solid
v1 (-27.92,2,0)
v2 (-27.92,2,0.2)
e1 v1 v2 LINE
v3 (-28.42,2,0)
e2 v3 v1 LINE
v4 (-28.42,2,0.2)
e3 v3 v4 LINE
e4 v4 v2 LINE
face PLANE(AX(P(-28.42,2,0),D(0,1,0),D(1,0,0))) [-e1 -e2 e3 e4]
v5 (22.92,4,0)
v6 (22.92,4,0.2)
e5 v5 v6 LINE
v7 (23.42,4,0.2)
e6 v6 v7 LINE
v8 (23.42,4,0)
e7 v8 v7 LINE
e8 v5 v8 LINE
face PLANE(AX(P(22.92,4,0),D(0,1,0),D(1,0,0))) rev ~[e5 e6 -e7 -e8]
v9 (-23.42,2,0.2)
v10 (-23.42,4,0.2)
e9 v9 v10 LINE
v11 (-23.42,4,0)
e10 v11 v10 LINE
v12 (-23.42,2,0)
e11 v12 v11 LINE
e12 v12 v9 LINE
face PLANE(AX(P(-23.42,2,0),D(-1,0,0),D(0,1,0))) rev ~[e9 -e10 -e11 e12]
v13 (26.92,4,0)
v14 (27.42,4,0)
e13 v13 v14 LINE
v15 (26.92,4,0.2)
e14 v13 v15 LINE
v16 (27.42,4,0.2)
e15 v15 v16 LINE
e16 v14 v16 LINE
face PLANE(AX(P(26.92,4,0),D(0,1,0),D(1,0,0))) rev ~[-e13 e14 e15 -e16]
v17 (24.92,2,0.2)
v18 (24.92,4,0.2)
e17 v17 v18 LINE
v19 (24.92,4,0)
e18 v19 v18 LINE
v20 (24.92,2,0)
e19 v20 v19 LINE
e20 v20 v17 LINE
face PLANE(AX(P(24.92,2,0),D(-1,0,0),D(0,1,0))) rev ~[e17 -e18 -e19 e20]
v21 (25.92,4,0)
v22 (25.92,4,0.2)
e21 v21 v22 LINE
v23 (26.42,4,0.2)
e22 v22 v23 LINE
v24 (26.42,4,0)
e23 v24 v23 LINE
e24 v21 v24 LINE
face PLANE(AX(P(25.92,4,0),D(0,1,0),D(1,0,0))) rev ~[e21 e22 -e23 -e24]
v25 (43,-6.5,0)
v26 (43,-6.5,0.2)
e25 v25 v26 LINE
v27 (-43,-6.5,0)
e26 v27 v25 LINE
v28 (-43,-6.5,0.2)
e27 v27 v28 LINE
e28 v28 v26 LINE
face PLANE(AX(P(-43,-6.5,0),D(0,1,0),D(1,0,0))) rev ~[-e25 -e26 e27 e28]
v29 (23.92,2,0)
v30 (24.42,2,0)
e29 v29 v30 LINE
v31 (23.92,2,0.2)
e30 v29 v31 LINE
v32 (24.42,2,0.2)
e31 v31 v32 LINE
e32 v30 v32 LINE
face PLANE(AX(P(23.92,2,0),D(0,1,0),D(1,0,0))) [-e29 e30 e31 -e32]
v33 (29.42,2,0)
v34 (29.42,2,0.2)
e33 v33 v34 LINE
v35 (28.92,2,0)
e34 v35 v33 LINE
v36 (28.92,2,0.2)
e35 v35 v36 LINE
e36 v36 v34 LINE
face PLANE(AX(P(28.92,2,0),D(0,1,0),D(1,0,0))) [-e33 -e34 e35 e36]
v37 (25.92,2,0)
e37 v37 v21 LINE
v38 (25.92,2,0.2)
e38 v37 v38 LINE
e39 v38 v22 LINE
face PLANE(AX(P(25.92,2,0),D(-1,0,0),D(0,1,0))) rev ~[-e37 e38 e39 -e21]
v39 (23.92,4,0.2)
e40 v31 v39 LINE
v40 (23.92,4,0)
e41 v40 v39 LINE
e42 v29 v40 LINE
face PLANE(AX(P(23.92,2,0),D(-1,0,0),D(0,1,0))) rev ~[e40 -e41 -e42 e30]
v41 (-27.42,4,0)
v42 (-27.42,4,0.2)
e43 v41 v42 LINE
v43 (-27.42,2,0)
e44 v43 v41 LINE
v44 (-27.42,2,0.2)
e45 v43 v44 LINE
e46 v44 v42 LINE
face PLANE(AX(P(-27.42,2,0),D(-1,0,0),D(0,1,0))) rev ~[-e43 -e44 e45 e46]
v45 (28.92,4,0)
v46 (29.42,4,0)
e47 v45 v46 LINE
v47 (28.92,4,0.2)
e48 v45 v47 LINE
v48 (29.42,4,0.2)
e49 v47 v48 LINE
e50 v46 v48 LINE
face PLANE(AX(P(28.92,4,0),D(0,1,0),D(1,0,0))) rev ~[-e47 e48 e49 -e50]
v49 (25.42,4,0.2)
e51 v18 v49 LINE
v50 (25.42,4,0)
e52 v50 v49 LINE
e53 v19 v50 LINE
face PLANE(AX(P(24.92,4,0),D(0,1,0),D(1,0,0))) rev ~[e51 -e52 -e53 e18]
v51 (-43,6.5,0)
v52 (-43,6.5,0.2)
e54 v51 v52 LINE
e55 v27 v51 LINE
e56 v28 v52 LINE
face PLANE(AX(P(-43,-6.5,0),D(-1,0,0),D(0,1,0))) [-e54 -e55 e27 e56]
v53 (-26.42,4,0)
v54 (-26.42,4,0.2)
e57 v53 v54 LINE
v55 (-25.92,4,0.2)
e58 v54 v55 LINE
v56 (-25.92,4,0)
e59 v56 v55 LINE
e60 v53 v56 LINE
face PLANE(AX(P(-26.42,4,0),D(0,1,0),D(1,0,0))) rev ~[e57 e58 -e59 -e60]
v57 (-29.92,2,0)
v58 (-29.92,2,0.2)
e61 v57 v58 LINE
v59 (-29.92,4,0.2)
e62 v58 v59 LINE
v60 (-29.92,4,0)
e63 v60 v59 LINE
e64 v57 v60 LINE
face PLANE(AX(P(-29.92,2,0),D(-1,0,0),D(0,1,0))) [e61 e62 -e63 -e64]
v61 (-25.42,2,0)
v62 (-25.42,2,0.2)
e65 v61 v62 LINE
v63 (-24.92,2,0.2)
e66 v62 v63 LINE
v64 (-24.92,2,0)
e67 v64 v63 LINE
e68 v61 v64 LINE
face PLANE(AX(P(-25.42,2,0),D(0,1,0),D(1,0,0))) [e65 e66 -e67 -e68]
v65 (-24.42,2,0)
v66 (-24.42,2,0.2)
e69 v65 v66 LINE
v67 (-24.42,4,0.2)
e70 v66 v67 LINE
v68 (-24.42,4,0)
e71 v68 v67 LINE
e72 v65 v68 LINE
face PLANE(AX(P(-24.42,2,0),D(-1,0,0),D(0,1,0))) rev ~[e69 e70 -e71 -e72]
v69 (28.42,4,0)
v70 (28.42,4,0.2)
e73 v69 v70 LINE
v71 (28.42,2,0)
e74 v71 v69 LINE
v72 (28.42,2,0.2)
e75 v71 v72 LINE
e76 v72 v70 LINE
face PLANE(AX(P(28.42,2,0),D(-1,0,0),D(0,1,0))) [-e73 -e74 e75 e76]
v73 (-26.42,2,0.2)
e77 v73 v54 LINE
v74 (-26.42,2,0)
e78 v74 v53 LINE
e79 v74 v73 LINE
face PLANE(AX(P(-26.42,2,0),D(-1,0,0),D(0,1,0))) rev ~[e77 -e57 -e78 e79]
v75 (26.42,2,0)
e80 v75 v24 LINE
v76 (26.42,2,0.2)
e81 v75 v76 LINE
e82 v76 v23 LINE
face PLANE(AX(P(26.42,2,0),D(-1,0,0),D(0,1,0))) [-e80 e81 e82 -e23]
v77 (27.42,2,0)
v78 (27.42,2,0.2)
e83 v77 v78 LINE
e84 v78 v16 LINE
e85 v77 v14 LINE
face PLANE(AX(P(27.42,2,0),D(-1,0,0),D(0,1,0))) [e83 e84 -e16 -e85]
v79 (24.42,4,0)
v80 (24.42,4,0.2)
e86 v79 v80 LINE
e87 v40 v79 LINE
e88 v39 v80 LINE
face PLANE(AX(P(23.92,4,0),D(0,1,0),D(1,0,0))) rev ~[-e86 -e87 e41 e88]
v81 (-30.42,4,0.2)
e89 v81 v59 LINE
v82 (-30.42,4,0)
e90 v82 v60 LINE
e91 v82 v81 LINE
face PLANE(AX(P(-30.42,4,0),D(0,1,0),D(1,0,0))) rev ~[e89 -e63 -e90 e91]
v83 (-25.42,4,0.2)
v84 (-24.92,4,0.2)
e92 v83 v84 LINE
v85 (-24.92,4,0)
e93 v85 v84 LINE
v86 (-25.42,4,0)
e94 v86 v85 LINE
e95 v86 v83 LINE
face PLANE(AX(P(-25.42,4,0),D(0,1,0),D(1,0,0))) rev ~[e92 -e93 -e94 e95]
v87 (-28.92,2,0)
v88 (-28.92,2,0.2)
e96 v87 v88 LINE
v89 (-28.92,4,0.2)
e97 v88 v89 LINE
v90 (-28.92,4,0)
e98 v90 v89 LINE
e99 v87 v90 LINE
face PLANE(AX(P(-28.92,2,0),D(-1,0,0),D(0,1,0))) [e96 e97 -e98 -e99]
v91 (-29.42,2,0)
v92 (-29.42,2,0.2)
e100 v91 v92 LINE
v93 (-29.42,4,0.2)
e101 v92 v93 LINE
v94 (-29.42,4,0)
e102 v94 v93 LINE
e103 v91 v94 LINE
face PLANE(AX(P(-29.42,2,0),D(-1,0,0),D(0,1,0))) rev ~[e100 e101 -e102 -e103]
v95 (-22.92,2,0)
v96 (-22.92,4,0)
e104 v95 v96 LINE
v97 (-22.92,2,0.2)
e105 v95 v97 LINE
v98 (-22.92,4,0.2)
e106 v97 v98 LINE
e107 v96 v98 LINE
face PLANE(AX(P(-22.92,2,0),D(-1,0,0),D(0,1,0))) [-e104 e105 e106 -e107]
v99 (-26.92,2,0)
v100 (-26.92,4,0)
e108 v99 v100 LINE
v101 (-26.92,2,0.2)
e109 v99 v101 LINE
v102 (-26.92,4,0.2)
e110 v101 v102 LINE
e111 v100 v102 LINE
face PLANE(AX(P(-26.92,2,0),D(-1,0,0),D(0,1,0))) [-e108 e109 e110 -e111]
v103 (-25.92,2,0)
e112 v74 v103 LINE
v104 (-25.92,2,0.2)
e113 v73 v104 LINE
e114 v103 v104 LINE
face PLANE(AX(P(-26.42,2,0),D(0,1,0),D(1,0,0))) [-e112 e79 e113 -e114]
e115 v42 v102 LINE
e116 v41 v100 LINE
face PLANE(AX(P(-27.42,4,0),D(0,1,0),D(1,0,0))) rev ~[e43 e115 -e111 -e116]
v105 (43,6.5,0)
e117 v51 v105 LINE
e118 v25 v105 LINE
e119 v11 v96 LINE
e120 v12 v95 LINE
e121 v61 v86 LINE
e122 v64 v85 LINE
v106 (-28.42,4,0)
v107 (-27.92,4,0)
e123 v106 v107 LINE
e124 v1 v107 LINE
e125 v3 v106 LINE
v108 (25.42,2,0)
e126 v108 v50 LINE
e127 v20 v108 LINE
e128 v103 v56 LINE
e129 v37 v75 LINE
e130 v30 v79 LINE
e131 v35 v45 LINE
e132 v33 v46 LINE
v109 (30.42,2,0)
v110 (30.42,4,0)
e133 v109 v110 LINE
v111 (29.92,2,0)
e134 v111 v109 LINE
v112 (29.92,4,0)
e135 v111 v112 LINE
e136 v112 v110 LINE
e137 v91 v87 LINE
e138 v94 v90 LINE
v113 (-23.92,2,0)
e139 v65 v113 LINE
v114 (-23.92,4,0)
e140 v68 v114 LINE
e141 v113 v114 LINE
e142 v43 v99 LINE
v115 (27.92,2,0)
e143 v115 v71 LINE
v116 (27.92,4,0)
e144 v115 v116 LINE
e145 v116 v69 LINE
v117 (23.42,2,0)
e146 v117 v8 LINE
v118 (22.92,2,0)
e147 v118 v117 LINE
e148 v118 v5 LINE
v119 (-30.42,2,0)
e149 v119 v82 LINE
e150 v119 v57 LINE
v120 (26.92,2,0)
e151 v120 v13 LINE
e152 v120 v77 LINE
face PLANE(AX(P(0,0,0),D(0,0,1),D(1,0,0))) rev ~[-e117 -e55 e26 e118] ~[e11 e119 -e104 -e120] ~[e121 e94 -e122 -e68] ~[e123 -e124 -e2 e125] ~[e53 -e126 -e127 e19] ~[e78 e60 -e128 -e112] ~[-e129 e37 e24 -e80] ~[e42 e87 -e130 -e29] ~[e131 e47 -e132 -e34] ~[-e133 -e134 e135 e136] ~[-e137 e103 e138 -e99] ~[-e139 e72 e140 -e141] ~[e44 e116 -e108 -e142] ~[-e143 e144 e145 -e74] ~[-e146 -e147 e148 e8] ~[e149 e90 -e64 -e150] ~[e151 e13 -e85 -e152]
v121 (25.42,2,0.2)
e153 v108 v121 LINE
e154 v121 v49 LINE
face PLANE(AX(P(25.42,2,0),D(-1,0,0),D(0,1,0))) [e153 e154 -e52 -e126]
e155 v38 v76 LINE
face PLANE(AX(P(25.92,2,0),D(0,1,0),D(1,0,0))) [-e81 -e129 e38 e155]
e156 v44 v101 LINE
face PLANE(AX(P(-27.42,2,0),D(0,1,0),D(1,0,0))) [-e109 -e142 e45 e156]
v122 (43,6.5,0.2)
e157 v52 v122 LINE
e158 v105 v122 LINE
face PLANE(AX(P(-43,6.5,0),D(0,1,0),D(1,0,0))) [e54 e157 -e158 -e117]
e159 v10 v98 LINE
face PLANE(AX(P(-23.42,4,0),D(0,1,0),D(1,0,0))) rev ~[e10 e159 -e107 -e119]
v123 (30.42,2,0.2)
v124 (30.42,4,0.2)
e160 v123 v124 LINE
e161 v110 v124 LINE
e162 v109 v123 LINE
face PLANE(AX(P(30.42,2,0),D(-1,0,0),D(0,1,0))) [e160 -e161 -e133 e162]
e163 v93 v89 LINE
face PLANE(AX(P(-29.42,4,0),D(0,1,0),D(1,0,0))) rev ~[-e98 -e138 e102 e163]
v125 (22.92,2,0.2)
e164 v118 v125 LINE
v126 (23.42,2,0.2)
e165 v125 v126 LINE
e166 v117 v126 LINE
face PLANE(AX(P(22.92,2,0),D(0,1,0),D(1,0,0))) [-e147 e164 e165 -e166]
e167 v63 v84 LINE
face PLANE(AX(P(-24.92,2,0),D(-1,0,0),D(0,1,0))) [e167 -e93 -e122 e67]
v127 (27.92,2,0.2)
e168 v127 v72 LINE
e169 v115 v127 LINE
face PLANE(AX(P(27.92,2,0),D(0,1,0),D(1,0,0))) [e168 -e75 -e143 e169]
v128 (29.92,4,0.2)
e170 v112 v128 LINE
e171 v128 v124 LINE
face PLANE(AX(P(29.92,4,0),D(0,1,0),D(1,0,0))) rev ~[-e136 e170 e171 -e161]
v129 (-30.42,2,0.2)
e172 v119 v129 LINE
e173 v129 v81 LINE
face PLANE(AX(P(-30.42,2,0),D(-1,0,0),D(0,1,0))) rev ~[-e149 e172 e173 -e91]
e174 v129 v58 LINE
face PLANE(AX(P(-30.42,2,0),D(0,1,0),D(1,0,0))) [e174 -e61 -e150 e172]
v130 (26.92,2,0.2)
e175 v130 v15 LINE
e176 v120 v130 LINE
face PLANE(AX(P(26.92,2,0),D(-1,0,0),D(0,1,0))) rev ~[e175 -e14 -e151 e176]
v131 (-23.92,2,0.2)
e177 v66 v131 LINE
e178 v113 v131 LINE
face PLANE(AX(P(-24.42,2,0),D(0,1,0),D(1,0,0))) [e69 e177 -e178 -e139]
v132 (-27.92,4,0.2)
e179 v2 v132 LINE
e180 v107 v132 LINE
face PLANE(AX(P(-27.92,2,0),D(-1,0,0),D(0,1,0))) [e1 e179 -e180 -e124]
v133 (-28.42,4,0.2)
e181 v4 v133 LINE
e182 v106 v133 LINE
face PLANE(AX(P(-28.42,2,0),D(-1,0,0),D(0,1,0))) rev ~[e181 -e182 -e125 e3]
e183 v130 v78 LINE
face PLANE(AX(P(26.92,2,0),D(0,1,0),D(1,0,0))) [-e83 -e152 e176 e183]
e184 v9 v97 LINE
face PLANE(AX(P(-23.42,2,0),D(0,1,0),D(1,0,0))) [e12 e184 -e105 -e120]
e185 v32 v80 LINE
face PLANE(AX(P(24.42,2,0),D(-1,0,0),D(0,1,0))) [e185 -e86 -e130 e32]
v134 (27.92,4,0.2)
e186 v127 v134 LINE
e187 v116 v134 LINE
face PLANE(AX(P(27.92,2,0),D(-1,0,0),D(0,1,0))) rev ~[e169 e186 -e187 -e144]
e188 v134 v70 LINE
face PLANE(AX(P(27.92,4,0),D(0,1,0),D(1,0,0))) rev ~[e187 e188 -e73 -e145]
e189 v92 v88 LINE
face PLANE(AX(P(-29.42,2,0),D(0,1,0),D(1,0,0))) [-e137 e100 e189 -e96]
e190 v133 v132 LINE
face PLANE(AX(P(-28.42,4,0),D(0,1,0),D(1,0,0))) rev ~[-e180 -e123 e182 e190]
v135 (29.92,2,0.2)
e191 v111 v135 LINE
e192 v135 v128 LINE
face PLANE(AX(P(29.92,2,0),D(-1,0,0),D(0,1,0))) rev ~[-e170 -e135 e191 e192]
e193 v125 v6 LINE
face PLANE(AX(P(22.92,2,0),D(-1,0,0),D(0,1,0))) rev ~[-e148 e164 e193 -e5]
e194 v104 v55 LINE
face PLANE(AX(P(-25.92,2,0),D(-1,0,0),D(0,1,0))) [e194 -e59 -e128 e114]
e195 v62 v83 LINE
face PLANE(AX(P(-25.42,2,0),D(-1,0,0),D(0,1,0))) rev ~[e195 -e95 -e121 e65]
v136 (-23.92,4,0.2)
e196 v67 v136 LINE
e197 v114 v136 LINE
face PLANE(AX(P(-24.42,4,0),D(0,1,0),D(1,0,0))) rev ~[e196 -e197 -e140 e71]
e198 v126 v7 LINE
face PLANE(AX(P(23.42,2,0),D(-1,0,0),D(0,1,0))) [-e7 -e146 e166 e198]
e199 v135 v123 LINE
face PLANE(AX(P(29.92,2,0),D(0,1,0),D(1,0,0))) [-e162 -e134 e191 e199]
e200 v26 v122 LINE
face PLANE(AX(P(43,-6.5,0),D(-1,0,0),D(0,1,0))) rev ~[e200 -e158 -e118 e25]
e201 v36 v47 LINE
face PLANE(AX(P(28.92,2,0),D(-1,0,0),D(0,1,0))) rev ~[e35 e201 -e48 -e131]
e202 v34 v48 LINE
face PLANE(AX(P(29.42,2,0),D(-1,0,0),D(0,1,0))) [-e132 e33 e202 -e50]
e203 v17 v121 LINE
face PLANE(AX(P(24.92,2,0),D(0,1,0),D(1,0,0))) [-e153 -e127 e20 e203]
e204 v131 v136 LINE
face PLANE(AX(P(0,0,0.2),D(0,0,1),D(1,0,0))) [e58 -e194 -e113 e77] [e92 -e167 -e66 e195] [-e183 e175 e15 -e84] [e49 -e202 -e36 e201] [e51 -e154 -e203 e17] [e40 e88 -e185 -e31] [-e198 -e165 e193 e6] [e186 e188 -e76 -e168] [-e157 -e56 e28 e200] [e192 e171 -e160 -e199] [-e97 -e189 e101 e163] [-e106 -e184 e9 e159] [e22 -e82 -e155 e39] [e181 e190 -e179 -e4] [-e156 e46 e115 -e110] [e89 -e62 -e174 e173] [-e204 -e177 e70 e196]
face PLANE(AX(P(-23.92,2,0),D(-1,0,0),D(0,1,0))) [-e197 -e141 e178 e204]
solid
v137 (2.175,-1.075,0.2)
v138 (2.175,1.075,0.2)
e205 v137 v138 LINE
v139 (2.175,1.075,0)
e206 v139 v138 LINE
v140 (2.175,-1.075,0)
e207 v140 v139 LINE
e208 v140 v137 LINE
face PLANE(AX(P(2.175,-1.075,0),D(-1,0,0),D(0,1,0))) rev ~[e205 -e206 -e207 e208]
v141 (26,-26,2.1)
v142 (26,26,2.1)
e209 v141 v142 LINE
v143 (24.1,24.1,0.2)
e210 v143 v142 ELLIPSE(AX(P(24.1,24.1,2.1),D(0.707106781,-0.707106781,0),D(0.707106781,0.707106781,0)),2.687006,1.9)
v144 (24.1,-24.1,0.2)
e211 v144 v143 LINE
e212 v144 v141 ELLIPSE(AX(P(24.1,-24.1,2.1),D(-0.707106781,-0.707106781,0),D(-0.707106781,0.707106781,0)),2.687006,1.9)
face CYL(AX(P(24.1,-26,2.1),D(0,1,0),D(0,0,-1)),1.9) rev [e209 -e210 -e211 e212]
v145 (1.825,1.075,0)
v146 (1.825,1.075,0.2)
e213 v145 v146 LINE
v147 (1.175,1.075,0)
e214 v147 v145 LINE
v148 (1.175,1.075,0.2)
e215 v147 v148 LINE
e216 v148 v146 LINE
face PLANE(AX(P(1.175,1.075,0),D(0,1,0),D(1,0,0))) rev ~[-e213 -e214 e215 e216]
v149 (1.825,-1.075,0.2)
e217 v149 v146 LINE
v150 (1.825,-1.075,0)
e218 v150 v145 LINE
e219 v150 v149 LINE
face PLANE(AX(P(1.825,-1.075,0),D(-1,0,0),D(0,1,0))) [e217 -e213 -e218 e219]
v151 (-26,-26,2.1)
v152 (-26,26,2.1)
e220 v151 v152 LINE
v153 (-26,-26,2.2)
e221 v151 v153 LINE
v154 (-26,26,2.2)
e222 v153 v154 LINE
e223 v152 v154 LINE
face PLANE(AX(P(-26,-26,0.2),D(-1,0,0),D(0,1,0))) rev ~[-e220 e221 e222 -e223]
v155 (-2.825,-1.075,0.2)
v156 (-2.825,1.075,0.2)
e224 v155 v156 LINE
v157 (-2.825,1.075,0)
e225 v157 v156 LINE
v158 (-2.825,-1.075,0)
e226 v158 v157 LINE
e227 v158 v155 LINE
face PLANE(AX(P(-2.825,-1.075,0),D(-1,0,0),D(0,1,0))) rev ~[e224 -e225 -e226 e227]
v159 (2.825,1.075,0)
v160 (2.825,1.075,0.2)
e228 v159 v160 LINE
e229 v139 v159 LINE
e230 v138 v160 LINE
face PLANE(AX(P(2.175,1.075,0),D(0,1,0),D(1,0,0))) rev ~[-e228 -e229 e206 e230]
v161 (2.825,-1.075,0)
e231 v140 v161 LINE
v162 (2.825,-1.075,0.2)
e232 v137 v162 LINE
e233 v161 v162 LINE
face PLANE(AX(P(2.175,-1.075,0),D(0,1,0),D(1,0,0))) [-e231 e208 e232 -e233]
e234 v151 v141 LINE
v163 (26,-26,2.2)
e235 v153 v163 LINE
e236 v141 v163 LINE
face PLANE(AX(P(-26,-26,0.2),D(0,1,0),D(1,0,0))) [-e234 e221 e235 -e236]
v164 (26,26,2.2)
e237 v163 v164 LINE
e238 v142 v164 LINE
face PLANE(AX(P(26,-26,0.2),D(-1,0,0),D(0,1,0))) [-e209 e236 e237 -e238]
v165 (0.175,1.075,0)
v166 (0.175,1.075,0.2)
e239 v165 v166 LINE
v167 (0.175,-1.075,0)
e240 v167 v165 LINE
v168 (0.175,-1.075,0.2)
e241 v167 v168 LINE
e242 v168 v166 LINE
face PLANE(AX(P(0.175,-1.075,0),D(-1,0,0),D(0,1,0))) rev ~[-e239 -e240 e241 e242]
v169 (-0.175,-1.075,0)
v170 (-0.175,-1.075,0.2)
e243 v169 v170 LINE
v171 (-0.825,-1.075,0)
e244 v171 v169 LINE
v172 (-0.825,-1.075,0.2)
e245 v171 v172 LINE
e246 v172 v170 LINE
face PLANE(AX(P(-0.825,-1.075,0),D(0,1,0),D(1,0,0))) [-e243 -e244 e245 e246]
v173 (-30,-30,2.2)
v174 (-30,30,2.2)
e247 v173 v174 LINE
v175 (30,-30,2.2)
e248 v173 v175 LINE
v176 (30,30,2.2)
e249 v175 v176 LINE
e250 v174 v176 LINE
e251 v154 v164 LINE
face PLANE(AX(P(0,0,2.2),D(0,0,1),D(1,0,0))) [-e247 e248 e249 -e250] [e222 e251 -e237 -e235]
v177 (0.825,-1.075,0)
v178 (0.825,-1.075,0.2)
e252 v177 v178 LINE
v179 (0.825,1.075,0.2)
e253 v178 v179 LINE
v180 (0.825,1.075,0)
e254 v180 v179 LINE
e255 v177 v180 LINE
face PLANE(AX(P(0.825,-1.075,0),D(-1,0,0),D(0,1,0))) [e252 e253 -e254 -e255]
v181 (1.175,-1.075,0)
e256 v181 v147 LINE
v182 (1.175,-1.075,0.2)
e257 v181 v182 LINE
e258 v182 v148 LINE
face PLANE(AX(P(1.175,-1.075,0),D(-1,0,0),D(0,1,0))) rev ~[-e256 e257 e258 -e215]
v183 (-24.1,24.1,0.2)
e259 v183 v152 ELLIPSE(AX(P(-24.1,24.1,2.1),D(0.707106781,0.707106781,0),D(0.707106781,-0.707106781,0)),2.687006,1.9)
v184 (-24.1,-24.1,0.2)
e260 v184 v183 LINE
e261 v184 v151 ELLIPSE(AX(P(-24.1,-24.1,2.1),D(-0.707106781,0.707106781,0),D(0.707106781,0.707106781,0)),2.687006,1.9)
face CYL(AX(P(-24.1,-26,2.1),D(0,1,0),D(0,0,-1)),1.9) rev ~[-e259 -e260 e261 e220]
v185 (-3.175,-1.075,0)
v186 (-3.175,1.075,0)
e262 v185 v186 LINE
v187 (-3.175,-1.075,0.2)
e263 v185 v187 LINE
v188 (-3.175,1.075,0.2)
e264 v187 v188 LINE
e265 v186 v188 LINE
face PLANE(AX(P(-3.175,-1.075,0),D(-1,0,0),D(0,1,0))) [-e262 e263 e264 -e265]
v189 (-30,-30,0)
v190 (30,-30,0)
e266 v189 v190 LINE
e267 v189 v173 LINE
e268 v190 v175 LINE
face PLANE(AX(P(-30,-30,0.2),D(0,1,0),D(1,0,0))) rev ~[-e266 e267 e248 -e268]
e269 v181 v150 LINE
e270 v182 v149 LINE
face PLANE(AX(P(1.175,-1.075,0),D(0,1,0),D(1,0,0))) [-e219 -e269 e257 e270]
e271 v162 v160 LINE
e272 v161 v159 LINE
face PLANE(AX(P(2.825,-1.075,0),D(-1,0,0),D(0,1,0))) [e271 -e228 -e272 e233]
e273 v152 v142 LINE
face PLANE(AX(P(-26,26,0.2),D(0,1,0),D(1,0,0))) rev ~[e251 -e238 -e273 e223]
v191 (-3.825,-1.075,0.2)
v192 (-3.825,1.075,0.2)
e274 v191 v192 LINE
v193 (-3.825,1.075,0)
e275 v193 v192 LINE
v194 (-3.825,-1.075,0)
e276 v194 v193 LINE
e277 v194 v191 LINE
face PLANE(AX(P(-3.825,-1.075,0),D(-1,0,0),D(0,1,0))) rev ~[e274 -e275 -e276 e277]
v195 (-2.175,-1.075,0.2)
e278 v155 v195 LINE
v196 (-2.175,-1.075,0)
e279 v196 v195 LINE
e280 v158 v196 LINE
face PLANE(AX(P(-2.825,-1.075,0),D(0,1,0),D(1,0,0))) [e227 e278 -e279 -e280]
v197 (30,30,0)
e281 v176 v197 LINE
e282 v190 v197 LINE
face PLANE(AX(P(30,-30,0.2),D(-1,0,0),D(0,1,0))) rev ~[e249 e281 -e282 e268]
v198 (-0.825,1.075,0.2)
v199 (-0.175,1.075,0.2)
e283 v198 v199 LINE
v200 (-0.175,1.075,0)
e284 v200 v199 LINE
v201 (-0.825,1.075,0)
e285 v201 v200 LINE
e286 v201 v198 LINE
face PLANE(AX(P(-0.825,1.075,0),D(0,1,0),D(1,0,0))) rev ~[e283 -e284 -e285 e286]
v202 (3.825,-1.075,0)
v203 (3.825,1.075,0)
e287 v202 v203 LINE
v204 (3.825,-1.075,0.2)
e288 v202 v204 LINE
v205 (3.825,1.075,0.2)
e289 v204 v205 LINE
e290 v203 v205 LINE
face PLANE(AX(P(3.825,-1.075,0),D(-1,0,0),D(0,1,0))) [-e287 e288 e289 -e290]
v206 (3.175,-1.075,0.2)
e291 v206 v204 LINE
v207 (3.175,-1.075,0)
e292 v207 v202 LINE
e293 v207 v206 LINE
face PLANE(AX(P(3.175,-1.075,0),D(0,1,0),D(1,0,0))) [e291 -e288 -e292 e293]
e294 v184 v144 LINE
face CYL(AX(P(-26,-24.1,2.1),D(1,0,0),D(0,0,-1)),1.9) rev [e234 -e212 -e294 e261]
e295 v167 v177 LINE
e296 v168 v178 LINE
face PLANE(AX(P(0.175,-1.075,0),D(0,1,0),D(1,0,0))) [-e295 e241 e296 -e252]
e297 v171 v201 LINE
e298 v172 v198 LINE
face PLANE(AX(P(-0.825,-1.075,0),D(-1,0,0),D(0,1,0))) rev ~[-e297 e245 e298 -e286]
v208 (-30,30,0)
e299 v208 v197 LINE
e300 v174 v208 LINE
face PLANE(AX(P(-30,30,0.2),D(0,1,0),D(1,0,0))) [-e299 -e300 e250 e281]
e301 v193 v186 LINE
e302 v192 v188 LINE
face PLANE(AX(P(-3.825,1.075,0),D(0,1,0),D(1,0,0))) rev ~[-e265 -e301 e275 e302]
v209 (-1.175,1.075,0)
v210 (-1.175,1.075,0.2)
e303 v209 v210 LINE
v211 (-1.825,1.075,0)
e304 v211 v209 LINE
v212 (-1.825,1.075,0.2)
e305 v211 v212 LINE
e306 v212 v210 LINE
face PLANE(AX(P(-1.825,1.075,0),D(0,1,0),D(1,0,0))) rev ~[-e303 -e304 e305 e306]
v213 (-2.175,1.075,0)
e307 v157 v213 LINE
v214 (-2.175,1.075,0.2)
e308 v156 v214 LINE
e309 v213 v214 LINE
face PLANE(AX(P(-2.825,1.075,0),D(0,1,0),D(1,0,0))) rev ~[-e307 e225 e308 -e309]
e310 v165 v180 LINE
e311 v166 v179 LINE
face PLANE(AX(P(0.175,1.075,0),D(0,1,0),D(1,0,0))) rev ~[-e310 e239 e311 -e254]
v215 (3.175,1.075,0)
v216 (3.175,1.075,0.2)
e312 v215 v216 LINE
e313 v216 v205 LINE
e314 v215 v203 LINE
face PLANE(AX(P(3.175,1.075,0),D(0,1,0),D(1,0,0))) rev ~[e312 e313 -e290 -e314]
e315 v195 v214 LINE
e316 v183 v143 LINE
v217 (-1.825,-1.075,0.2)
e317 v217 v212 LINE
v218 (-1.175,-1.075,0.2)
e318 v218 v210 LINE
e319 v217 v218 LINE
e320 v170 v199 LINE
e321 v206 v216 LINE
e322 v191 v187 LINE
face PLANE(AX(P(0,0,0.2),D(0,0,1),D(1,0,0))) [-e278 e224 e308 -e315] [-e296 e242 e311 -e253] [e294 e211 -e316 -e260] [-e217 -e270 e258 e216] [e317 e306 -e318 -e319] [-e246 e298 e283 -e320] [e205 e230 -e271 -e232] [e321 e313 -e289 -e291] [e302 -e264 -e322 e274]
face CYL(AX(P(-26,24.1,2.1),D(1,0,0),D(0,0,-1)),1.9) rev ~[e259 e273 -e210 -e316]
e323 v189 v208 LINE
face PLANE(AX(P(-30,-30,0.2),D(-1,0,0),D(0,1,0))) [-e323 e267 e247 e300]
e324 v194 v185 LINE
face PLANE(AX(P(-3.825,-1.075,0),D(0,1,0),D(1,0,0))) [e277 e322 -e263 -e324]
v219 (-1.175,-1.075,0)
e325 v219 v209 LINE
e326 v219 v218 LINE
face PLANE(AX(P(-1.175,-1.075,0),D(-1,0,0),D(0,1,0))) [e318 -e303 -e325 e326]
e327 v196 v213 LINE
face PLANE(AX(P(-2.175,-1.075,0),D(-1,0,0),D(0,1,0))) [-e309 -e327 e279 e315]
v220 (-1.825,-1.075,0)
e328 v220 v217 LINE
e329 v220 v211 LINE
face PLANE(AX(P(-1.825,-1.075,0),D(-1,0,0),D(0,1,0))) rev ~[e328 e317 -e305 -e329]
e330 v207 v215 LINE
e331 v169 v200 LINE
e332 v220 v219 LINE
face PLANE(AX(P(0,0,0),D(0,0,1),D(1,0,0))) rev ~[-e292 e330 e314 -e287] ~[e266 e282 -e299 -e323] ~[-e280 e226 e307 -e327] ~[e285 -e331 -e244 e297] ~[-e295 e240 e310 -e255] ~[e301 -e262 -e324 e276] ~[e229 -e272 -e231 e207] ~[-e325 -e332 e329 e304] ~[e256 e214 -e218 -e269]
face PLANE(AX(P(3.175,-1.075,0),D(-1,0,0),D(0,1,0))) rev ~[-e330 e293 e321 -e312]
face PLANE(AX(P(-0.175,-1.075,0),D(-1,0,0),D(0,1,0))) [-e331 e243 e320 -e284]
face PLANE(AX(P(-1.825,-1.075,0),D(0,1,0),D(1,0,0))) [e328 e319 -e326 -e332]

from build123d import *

# Parameters (mm, degrees)
SKETCH_W      = 86
SKETCH_H      = 13
SKETCH_W_2    = 0.5
SKETCH_H_2    = 2
PAD_DEPTH     = 0.2
SKETCH001_W   = 60
SKETCH001_H   = 60
SKETCH001_W_2 = 0.65
SKETCH001_H_2 = 2.15
PAD001_DEPTH  = 0.2
SKETCH002_W   = 60
SKETCH002_H   = 60
SKETCH002_W_2 = 52
SKETCH002_H_2 = 52
PAD002_DEPTH  = 2
FILLET_R      = 1.9


with BuildPart() as body:
    # Sketch → Pad (new body)
    with BuildSketch(Plane.XY):
        Rectangle(SKETCH_W, SKETCH_H)
        with Locations((-30.17, 3)):
            Rectangle(SKETCH_W_2, SKETCH_H_2, mode=Mode.SUBTRACT)
        with Locations((-29.17, 3)):
            Rectangle(SKETCH_W_2, SKETCH_H_2, mode=Mode.SUBTRACT)
        with Locations((-28.17, 3)):
            Rectangle(SKETCH_W_2, SKETCH_H_2, mode=Mode.SUBTRACT)
        with Locations((-27.17, 3)):
            Rectangle(SKETCH_W_2, SKETCH_H_2, mode=Mode.SUBTRACT)
        with Locations((-26.17, 3)):
            Rectangle(SKETCH_W_2, SKETCH_H_2, mode=Mode.SUBTRACT)
        with Locations((-25.17, 3)):
            Rectangle(SKETCH_W_2, SKETCH_H_2, mode=Mode.SUBTRACT)
        with Locations((-24.17, 3)):
            Rectangle(SKETCH_W_2, SKETCH_H_2, mode=Mode.SUBTRACT)
        with Locations((-23.17, 3)):
            Rectangle(SKETCH_W_2, SKETCH_H_2, mode=Mode.SUBTRACT)
        with Locations((23.17, 3)):
            Rectangle(SKETCH_W_2, SKETCH_H_2, mode=Mode.SUBTRACT)
        with Locations((24.17, 3)):
            Rectangle(SKETCH_W_2, SKETCH_H_2, mode=Mode.SUBTRACT)
        with Locations((25.17, 3)):
            Rectangle(SKETCH_W_2, SKETCH_H_2, mode=Mode.SUBTRACT)
        with Locations((26.17, 3)):
            Rectangle(SKETCH_W_2, SKETCH_H_2, mode=Mode.SUBTRACT)
        with Locations((27.17, 3)):
            Rectangle(SKETCH_W_2, SKETCH_H_2, mode=Mode.SUBTRACT)
        with Locations((28.17, 3)):
            Rectangle(SKETCH_W_2, SKETCH_H_2, mode=Mode.SUBTRACT)
        with Locations((29.17, 3)):
            Rectangle(SKETCH_W_2, SKETCH_H_2, mode=Mode.SUBTRACT)
        with Locations((30.17, 3)):
            Rectangle(SKETCH_W_2, SKETCH_H_2, mode=Mode.SUBTRACT)
    extrude(amount=PAD_DEPTH)


with BuildPart() as body001:
    # Sketch001 → Pad001 (new body)
    with BuildSketch(Plane.XY):
        Rectangle(SKETCH001_W, SKETCH001_H)
        with Locations((-3.5, 0)):
            Rectangle(SKETCH001_W_2, SKETCH001_H_2, mode=Mode.SUBTRACT)
        with Locations((-2.5, 0)):
            Rectangle(SKETCH001_W_2, SKETCH001_H_2, mode=Mode.SUBTRACT)
        with Locations((-1.5, 0)):
            Rectangle(SKETCH001_W_2, SKETCH001_H_2, mode=Mode.SUBTRACT)
        with Locations((-0.5, 0)):
            Rectangle(SKETCH001_W_2, SKETCH001_H_2, mode=Mode.SUBTRACT)
        with Locations((0.5, 0)):
            Rectangle(SKETCH001_W_2, SKETCH001_H_2, mode=Mode.SUBTRACT)
        with Locations((1.5, 0)):
            Rectangle(SKETCH001_W_2, SKETCH001_H_2, mode=Mode.SUBTRACT)
        with Locations((2.5, 0)):
            Rectangle(SKETCH001_W_2, SKETCH001_H_2, mode=Mode.SUBTRACT)
        with Locations((3.5, 0)):
            Rectangle(SKETCH001_W_2, SKETCH001_H_2, mode=Mode.SUBTRACT)
    extrude(amount=PAD001_DEPTH)

    # Sketch002 (on Face38 of Pad001) → Pad002 (join)
    with BuildSketch(Plane.XY.offset(0.2)):
        Rectangle(SKETCH002_W, SKETCH002_H)
        Rectangle(SKETCH002_W_2, SKETCH002_H_2, mode=Mode.SUBTRACT)
    extrude(amount=PAD002_DEPTH)

    # Fillet
    fillet_edges = [body001.edges().sort_by_distance(p)[0] for p in [
        (0, 26, 0.2),
        (-26, 0, 0.2),
        (26, 0, 0.2),
        (0, -26, 0.2),
    ]]
    fillet(fillet_edges, radius=FILLET_R)


solid = Compound([body.part, body001.part])
